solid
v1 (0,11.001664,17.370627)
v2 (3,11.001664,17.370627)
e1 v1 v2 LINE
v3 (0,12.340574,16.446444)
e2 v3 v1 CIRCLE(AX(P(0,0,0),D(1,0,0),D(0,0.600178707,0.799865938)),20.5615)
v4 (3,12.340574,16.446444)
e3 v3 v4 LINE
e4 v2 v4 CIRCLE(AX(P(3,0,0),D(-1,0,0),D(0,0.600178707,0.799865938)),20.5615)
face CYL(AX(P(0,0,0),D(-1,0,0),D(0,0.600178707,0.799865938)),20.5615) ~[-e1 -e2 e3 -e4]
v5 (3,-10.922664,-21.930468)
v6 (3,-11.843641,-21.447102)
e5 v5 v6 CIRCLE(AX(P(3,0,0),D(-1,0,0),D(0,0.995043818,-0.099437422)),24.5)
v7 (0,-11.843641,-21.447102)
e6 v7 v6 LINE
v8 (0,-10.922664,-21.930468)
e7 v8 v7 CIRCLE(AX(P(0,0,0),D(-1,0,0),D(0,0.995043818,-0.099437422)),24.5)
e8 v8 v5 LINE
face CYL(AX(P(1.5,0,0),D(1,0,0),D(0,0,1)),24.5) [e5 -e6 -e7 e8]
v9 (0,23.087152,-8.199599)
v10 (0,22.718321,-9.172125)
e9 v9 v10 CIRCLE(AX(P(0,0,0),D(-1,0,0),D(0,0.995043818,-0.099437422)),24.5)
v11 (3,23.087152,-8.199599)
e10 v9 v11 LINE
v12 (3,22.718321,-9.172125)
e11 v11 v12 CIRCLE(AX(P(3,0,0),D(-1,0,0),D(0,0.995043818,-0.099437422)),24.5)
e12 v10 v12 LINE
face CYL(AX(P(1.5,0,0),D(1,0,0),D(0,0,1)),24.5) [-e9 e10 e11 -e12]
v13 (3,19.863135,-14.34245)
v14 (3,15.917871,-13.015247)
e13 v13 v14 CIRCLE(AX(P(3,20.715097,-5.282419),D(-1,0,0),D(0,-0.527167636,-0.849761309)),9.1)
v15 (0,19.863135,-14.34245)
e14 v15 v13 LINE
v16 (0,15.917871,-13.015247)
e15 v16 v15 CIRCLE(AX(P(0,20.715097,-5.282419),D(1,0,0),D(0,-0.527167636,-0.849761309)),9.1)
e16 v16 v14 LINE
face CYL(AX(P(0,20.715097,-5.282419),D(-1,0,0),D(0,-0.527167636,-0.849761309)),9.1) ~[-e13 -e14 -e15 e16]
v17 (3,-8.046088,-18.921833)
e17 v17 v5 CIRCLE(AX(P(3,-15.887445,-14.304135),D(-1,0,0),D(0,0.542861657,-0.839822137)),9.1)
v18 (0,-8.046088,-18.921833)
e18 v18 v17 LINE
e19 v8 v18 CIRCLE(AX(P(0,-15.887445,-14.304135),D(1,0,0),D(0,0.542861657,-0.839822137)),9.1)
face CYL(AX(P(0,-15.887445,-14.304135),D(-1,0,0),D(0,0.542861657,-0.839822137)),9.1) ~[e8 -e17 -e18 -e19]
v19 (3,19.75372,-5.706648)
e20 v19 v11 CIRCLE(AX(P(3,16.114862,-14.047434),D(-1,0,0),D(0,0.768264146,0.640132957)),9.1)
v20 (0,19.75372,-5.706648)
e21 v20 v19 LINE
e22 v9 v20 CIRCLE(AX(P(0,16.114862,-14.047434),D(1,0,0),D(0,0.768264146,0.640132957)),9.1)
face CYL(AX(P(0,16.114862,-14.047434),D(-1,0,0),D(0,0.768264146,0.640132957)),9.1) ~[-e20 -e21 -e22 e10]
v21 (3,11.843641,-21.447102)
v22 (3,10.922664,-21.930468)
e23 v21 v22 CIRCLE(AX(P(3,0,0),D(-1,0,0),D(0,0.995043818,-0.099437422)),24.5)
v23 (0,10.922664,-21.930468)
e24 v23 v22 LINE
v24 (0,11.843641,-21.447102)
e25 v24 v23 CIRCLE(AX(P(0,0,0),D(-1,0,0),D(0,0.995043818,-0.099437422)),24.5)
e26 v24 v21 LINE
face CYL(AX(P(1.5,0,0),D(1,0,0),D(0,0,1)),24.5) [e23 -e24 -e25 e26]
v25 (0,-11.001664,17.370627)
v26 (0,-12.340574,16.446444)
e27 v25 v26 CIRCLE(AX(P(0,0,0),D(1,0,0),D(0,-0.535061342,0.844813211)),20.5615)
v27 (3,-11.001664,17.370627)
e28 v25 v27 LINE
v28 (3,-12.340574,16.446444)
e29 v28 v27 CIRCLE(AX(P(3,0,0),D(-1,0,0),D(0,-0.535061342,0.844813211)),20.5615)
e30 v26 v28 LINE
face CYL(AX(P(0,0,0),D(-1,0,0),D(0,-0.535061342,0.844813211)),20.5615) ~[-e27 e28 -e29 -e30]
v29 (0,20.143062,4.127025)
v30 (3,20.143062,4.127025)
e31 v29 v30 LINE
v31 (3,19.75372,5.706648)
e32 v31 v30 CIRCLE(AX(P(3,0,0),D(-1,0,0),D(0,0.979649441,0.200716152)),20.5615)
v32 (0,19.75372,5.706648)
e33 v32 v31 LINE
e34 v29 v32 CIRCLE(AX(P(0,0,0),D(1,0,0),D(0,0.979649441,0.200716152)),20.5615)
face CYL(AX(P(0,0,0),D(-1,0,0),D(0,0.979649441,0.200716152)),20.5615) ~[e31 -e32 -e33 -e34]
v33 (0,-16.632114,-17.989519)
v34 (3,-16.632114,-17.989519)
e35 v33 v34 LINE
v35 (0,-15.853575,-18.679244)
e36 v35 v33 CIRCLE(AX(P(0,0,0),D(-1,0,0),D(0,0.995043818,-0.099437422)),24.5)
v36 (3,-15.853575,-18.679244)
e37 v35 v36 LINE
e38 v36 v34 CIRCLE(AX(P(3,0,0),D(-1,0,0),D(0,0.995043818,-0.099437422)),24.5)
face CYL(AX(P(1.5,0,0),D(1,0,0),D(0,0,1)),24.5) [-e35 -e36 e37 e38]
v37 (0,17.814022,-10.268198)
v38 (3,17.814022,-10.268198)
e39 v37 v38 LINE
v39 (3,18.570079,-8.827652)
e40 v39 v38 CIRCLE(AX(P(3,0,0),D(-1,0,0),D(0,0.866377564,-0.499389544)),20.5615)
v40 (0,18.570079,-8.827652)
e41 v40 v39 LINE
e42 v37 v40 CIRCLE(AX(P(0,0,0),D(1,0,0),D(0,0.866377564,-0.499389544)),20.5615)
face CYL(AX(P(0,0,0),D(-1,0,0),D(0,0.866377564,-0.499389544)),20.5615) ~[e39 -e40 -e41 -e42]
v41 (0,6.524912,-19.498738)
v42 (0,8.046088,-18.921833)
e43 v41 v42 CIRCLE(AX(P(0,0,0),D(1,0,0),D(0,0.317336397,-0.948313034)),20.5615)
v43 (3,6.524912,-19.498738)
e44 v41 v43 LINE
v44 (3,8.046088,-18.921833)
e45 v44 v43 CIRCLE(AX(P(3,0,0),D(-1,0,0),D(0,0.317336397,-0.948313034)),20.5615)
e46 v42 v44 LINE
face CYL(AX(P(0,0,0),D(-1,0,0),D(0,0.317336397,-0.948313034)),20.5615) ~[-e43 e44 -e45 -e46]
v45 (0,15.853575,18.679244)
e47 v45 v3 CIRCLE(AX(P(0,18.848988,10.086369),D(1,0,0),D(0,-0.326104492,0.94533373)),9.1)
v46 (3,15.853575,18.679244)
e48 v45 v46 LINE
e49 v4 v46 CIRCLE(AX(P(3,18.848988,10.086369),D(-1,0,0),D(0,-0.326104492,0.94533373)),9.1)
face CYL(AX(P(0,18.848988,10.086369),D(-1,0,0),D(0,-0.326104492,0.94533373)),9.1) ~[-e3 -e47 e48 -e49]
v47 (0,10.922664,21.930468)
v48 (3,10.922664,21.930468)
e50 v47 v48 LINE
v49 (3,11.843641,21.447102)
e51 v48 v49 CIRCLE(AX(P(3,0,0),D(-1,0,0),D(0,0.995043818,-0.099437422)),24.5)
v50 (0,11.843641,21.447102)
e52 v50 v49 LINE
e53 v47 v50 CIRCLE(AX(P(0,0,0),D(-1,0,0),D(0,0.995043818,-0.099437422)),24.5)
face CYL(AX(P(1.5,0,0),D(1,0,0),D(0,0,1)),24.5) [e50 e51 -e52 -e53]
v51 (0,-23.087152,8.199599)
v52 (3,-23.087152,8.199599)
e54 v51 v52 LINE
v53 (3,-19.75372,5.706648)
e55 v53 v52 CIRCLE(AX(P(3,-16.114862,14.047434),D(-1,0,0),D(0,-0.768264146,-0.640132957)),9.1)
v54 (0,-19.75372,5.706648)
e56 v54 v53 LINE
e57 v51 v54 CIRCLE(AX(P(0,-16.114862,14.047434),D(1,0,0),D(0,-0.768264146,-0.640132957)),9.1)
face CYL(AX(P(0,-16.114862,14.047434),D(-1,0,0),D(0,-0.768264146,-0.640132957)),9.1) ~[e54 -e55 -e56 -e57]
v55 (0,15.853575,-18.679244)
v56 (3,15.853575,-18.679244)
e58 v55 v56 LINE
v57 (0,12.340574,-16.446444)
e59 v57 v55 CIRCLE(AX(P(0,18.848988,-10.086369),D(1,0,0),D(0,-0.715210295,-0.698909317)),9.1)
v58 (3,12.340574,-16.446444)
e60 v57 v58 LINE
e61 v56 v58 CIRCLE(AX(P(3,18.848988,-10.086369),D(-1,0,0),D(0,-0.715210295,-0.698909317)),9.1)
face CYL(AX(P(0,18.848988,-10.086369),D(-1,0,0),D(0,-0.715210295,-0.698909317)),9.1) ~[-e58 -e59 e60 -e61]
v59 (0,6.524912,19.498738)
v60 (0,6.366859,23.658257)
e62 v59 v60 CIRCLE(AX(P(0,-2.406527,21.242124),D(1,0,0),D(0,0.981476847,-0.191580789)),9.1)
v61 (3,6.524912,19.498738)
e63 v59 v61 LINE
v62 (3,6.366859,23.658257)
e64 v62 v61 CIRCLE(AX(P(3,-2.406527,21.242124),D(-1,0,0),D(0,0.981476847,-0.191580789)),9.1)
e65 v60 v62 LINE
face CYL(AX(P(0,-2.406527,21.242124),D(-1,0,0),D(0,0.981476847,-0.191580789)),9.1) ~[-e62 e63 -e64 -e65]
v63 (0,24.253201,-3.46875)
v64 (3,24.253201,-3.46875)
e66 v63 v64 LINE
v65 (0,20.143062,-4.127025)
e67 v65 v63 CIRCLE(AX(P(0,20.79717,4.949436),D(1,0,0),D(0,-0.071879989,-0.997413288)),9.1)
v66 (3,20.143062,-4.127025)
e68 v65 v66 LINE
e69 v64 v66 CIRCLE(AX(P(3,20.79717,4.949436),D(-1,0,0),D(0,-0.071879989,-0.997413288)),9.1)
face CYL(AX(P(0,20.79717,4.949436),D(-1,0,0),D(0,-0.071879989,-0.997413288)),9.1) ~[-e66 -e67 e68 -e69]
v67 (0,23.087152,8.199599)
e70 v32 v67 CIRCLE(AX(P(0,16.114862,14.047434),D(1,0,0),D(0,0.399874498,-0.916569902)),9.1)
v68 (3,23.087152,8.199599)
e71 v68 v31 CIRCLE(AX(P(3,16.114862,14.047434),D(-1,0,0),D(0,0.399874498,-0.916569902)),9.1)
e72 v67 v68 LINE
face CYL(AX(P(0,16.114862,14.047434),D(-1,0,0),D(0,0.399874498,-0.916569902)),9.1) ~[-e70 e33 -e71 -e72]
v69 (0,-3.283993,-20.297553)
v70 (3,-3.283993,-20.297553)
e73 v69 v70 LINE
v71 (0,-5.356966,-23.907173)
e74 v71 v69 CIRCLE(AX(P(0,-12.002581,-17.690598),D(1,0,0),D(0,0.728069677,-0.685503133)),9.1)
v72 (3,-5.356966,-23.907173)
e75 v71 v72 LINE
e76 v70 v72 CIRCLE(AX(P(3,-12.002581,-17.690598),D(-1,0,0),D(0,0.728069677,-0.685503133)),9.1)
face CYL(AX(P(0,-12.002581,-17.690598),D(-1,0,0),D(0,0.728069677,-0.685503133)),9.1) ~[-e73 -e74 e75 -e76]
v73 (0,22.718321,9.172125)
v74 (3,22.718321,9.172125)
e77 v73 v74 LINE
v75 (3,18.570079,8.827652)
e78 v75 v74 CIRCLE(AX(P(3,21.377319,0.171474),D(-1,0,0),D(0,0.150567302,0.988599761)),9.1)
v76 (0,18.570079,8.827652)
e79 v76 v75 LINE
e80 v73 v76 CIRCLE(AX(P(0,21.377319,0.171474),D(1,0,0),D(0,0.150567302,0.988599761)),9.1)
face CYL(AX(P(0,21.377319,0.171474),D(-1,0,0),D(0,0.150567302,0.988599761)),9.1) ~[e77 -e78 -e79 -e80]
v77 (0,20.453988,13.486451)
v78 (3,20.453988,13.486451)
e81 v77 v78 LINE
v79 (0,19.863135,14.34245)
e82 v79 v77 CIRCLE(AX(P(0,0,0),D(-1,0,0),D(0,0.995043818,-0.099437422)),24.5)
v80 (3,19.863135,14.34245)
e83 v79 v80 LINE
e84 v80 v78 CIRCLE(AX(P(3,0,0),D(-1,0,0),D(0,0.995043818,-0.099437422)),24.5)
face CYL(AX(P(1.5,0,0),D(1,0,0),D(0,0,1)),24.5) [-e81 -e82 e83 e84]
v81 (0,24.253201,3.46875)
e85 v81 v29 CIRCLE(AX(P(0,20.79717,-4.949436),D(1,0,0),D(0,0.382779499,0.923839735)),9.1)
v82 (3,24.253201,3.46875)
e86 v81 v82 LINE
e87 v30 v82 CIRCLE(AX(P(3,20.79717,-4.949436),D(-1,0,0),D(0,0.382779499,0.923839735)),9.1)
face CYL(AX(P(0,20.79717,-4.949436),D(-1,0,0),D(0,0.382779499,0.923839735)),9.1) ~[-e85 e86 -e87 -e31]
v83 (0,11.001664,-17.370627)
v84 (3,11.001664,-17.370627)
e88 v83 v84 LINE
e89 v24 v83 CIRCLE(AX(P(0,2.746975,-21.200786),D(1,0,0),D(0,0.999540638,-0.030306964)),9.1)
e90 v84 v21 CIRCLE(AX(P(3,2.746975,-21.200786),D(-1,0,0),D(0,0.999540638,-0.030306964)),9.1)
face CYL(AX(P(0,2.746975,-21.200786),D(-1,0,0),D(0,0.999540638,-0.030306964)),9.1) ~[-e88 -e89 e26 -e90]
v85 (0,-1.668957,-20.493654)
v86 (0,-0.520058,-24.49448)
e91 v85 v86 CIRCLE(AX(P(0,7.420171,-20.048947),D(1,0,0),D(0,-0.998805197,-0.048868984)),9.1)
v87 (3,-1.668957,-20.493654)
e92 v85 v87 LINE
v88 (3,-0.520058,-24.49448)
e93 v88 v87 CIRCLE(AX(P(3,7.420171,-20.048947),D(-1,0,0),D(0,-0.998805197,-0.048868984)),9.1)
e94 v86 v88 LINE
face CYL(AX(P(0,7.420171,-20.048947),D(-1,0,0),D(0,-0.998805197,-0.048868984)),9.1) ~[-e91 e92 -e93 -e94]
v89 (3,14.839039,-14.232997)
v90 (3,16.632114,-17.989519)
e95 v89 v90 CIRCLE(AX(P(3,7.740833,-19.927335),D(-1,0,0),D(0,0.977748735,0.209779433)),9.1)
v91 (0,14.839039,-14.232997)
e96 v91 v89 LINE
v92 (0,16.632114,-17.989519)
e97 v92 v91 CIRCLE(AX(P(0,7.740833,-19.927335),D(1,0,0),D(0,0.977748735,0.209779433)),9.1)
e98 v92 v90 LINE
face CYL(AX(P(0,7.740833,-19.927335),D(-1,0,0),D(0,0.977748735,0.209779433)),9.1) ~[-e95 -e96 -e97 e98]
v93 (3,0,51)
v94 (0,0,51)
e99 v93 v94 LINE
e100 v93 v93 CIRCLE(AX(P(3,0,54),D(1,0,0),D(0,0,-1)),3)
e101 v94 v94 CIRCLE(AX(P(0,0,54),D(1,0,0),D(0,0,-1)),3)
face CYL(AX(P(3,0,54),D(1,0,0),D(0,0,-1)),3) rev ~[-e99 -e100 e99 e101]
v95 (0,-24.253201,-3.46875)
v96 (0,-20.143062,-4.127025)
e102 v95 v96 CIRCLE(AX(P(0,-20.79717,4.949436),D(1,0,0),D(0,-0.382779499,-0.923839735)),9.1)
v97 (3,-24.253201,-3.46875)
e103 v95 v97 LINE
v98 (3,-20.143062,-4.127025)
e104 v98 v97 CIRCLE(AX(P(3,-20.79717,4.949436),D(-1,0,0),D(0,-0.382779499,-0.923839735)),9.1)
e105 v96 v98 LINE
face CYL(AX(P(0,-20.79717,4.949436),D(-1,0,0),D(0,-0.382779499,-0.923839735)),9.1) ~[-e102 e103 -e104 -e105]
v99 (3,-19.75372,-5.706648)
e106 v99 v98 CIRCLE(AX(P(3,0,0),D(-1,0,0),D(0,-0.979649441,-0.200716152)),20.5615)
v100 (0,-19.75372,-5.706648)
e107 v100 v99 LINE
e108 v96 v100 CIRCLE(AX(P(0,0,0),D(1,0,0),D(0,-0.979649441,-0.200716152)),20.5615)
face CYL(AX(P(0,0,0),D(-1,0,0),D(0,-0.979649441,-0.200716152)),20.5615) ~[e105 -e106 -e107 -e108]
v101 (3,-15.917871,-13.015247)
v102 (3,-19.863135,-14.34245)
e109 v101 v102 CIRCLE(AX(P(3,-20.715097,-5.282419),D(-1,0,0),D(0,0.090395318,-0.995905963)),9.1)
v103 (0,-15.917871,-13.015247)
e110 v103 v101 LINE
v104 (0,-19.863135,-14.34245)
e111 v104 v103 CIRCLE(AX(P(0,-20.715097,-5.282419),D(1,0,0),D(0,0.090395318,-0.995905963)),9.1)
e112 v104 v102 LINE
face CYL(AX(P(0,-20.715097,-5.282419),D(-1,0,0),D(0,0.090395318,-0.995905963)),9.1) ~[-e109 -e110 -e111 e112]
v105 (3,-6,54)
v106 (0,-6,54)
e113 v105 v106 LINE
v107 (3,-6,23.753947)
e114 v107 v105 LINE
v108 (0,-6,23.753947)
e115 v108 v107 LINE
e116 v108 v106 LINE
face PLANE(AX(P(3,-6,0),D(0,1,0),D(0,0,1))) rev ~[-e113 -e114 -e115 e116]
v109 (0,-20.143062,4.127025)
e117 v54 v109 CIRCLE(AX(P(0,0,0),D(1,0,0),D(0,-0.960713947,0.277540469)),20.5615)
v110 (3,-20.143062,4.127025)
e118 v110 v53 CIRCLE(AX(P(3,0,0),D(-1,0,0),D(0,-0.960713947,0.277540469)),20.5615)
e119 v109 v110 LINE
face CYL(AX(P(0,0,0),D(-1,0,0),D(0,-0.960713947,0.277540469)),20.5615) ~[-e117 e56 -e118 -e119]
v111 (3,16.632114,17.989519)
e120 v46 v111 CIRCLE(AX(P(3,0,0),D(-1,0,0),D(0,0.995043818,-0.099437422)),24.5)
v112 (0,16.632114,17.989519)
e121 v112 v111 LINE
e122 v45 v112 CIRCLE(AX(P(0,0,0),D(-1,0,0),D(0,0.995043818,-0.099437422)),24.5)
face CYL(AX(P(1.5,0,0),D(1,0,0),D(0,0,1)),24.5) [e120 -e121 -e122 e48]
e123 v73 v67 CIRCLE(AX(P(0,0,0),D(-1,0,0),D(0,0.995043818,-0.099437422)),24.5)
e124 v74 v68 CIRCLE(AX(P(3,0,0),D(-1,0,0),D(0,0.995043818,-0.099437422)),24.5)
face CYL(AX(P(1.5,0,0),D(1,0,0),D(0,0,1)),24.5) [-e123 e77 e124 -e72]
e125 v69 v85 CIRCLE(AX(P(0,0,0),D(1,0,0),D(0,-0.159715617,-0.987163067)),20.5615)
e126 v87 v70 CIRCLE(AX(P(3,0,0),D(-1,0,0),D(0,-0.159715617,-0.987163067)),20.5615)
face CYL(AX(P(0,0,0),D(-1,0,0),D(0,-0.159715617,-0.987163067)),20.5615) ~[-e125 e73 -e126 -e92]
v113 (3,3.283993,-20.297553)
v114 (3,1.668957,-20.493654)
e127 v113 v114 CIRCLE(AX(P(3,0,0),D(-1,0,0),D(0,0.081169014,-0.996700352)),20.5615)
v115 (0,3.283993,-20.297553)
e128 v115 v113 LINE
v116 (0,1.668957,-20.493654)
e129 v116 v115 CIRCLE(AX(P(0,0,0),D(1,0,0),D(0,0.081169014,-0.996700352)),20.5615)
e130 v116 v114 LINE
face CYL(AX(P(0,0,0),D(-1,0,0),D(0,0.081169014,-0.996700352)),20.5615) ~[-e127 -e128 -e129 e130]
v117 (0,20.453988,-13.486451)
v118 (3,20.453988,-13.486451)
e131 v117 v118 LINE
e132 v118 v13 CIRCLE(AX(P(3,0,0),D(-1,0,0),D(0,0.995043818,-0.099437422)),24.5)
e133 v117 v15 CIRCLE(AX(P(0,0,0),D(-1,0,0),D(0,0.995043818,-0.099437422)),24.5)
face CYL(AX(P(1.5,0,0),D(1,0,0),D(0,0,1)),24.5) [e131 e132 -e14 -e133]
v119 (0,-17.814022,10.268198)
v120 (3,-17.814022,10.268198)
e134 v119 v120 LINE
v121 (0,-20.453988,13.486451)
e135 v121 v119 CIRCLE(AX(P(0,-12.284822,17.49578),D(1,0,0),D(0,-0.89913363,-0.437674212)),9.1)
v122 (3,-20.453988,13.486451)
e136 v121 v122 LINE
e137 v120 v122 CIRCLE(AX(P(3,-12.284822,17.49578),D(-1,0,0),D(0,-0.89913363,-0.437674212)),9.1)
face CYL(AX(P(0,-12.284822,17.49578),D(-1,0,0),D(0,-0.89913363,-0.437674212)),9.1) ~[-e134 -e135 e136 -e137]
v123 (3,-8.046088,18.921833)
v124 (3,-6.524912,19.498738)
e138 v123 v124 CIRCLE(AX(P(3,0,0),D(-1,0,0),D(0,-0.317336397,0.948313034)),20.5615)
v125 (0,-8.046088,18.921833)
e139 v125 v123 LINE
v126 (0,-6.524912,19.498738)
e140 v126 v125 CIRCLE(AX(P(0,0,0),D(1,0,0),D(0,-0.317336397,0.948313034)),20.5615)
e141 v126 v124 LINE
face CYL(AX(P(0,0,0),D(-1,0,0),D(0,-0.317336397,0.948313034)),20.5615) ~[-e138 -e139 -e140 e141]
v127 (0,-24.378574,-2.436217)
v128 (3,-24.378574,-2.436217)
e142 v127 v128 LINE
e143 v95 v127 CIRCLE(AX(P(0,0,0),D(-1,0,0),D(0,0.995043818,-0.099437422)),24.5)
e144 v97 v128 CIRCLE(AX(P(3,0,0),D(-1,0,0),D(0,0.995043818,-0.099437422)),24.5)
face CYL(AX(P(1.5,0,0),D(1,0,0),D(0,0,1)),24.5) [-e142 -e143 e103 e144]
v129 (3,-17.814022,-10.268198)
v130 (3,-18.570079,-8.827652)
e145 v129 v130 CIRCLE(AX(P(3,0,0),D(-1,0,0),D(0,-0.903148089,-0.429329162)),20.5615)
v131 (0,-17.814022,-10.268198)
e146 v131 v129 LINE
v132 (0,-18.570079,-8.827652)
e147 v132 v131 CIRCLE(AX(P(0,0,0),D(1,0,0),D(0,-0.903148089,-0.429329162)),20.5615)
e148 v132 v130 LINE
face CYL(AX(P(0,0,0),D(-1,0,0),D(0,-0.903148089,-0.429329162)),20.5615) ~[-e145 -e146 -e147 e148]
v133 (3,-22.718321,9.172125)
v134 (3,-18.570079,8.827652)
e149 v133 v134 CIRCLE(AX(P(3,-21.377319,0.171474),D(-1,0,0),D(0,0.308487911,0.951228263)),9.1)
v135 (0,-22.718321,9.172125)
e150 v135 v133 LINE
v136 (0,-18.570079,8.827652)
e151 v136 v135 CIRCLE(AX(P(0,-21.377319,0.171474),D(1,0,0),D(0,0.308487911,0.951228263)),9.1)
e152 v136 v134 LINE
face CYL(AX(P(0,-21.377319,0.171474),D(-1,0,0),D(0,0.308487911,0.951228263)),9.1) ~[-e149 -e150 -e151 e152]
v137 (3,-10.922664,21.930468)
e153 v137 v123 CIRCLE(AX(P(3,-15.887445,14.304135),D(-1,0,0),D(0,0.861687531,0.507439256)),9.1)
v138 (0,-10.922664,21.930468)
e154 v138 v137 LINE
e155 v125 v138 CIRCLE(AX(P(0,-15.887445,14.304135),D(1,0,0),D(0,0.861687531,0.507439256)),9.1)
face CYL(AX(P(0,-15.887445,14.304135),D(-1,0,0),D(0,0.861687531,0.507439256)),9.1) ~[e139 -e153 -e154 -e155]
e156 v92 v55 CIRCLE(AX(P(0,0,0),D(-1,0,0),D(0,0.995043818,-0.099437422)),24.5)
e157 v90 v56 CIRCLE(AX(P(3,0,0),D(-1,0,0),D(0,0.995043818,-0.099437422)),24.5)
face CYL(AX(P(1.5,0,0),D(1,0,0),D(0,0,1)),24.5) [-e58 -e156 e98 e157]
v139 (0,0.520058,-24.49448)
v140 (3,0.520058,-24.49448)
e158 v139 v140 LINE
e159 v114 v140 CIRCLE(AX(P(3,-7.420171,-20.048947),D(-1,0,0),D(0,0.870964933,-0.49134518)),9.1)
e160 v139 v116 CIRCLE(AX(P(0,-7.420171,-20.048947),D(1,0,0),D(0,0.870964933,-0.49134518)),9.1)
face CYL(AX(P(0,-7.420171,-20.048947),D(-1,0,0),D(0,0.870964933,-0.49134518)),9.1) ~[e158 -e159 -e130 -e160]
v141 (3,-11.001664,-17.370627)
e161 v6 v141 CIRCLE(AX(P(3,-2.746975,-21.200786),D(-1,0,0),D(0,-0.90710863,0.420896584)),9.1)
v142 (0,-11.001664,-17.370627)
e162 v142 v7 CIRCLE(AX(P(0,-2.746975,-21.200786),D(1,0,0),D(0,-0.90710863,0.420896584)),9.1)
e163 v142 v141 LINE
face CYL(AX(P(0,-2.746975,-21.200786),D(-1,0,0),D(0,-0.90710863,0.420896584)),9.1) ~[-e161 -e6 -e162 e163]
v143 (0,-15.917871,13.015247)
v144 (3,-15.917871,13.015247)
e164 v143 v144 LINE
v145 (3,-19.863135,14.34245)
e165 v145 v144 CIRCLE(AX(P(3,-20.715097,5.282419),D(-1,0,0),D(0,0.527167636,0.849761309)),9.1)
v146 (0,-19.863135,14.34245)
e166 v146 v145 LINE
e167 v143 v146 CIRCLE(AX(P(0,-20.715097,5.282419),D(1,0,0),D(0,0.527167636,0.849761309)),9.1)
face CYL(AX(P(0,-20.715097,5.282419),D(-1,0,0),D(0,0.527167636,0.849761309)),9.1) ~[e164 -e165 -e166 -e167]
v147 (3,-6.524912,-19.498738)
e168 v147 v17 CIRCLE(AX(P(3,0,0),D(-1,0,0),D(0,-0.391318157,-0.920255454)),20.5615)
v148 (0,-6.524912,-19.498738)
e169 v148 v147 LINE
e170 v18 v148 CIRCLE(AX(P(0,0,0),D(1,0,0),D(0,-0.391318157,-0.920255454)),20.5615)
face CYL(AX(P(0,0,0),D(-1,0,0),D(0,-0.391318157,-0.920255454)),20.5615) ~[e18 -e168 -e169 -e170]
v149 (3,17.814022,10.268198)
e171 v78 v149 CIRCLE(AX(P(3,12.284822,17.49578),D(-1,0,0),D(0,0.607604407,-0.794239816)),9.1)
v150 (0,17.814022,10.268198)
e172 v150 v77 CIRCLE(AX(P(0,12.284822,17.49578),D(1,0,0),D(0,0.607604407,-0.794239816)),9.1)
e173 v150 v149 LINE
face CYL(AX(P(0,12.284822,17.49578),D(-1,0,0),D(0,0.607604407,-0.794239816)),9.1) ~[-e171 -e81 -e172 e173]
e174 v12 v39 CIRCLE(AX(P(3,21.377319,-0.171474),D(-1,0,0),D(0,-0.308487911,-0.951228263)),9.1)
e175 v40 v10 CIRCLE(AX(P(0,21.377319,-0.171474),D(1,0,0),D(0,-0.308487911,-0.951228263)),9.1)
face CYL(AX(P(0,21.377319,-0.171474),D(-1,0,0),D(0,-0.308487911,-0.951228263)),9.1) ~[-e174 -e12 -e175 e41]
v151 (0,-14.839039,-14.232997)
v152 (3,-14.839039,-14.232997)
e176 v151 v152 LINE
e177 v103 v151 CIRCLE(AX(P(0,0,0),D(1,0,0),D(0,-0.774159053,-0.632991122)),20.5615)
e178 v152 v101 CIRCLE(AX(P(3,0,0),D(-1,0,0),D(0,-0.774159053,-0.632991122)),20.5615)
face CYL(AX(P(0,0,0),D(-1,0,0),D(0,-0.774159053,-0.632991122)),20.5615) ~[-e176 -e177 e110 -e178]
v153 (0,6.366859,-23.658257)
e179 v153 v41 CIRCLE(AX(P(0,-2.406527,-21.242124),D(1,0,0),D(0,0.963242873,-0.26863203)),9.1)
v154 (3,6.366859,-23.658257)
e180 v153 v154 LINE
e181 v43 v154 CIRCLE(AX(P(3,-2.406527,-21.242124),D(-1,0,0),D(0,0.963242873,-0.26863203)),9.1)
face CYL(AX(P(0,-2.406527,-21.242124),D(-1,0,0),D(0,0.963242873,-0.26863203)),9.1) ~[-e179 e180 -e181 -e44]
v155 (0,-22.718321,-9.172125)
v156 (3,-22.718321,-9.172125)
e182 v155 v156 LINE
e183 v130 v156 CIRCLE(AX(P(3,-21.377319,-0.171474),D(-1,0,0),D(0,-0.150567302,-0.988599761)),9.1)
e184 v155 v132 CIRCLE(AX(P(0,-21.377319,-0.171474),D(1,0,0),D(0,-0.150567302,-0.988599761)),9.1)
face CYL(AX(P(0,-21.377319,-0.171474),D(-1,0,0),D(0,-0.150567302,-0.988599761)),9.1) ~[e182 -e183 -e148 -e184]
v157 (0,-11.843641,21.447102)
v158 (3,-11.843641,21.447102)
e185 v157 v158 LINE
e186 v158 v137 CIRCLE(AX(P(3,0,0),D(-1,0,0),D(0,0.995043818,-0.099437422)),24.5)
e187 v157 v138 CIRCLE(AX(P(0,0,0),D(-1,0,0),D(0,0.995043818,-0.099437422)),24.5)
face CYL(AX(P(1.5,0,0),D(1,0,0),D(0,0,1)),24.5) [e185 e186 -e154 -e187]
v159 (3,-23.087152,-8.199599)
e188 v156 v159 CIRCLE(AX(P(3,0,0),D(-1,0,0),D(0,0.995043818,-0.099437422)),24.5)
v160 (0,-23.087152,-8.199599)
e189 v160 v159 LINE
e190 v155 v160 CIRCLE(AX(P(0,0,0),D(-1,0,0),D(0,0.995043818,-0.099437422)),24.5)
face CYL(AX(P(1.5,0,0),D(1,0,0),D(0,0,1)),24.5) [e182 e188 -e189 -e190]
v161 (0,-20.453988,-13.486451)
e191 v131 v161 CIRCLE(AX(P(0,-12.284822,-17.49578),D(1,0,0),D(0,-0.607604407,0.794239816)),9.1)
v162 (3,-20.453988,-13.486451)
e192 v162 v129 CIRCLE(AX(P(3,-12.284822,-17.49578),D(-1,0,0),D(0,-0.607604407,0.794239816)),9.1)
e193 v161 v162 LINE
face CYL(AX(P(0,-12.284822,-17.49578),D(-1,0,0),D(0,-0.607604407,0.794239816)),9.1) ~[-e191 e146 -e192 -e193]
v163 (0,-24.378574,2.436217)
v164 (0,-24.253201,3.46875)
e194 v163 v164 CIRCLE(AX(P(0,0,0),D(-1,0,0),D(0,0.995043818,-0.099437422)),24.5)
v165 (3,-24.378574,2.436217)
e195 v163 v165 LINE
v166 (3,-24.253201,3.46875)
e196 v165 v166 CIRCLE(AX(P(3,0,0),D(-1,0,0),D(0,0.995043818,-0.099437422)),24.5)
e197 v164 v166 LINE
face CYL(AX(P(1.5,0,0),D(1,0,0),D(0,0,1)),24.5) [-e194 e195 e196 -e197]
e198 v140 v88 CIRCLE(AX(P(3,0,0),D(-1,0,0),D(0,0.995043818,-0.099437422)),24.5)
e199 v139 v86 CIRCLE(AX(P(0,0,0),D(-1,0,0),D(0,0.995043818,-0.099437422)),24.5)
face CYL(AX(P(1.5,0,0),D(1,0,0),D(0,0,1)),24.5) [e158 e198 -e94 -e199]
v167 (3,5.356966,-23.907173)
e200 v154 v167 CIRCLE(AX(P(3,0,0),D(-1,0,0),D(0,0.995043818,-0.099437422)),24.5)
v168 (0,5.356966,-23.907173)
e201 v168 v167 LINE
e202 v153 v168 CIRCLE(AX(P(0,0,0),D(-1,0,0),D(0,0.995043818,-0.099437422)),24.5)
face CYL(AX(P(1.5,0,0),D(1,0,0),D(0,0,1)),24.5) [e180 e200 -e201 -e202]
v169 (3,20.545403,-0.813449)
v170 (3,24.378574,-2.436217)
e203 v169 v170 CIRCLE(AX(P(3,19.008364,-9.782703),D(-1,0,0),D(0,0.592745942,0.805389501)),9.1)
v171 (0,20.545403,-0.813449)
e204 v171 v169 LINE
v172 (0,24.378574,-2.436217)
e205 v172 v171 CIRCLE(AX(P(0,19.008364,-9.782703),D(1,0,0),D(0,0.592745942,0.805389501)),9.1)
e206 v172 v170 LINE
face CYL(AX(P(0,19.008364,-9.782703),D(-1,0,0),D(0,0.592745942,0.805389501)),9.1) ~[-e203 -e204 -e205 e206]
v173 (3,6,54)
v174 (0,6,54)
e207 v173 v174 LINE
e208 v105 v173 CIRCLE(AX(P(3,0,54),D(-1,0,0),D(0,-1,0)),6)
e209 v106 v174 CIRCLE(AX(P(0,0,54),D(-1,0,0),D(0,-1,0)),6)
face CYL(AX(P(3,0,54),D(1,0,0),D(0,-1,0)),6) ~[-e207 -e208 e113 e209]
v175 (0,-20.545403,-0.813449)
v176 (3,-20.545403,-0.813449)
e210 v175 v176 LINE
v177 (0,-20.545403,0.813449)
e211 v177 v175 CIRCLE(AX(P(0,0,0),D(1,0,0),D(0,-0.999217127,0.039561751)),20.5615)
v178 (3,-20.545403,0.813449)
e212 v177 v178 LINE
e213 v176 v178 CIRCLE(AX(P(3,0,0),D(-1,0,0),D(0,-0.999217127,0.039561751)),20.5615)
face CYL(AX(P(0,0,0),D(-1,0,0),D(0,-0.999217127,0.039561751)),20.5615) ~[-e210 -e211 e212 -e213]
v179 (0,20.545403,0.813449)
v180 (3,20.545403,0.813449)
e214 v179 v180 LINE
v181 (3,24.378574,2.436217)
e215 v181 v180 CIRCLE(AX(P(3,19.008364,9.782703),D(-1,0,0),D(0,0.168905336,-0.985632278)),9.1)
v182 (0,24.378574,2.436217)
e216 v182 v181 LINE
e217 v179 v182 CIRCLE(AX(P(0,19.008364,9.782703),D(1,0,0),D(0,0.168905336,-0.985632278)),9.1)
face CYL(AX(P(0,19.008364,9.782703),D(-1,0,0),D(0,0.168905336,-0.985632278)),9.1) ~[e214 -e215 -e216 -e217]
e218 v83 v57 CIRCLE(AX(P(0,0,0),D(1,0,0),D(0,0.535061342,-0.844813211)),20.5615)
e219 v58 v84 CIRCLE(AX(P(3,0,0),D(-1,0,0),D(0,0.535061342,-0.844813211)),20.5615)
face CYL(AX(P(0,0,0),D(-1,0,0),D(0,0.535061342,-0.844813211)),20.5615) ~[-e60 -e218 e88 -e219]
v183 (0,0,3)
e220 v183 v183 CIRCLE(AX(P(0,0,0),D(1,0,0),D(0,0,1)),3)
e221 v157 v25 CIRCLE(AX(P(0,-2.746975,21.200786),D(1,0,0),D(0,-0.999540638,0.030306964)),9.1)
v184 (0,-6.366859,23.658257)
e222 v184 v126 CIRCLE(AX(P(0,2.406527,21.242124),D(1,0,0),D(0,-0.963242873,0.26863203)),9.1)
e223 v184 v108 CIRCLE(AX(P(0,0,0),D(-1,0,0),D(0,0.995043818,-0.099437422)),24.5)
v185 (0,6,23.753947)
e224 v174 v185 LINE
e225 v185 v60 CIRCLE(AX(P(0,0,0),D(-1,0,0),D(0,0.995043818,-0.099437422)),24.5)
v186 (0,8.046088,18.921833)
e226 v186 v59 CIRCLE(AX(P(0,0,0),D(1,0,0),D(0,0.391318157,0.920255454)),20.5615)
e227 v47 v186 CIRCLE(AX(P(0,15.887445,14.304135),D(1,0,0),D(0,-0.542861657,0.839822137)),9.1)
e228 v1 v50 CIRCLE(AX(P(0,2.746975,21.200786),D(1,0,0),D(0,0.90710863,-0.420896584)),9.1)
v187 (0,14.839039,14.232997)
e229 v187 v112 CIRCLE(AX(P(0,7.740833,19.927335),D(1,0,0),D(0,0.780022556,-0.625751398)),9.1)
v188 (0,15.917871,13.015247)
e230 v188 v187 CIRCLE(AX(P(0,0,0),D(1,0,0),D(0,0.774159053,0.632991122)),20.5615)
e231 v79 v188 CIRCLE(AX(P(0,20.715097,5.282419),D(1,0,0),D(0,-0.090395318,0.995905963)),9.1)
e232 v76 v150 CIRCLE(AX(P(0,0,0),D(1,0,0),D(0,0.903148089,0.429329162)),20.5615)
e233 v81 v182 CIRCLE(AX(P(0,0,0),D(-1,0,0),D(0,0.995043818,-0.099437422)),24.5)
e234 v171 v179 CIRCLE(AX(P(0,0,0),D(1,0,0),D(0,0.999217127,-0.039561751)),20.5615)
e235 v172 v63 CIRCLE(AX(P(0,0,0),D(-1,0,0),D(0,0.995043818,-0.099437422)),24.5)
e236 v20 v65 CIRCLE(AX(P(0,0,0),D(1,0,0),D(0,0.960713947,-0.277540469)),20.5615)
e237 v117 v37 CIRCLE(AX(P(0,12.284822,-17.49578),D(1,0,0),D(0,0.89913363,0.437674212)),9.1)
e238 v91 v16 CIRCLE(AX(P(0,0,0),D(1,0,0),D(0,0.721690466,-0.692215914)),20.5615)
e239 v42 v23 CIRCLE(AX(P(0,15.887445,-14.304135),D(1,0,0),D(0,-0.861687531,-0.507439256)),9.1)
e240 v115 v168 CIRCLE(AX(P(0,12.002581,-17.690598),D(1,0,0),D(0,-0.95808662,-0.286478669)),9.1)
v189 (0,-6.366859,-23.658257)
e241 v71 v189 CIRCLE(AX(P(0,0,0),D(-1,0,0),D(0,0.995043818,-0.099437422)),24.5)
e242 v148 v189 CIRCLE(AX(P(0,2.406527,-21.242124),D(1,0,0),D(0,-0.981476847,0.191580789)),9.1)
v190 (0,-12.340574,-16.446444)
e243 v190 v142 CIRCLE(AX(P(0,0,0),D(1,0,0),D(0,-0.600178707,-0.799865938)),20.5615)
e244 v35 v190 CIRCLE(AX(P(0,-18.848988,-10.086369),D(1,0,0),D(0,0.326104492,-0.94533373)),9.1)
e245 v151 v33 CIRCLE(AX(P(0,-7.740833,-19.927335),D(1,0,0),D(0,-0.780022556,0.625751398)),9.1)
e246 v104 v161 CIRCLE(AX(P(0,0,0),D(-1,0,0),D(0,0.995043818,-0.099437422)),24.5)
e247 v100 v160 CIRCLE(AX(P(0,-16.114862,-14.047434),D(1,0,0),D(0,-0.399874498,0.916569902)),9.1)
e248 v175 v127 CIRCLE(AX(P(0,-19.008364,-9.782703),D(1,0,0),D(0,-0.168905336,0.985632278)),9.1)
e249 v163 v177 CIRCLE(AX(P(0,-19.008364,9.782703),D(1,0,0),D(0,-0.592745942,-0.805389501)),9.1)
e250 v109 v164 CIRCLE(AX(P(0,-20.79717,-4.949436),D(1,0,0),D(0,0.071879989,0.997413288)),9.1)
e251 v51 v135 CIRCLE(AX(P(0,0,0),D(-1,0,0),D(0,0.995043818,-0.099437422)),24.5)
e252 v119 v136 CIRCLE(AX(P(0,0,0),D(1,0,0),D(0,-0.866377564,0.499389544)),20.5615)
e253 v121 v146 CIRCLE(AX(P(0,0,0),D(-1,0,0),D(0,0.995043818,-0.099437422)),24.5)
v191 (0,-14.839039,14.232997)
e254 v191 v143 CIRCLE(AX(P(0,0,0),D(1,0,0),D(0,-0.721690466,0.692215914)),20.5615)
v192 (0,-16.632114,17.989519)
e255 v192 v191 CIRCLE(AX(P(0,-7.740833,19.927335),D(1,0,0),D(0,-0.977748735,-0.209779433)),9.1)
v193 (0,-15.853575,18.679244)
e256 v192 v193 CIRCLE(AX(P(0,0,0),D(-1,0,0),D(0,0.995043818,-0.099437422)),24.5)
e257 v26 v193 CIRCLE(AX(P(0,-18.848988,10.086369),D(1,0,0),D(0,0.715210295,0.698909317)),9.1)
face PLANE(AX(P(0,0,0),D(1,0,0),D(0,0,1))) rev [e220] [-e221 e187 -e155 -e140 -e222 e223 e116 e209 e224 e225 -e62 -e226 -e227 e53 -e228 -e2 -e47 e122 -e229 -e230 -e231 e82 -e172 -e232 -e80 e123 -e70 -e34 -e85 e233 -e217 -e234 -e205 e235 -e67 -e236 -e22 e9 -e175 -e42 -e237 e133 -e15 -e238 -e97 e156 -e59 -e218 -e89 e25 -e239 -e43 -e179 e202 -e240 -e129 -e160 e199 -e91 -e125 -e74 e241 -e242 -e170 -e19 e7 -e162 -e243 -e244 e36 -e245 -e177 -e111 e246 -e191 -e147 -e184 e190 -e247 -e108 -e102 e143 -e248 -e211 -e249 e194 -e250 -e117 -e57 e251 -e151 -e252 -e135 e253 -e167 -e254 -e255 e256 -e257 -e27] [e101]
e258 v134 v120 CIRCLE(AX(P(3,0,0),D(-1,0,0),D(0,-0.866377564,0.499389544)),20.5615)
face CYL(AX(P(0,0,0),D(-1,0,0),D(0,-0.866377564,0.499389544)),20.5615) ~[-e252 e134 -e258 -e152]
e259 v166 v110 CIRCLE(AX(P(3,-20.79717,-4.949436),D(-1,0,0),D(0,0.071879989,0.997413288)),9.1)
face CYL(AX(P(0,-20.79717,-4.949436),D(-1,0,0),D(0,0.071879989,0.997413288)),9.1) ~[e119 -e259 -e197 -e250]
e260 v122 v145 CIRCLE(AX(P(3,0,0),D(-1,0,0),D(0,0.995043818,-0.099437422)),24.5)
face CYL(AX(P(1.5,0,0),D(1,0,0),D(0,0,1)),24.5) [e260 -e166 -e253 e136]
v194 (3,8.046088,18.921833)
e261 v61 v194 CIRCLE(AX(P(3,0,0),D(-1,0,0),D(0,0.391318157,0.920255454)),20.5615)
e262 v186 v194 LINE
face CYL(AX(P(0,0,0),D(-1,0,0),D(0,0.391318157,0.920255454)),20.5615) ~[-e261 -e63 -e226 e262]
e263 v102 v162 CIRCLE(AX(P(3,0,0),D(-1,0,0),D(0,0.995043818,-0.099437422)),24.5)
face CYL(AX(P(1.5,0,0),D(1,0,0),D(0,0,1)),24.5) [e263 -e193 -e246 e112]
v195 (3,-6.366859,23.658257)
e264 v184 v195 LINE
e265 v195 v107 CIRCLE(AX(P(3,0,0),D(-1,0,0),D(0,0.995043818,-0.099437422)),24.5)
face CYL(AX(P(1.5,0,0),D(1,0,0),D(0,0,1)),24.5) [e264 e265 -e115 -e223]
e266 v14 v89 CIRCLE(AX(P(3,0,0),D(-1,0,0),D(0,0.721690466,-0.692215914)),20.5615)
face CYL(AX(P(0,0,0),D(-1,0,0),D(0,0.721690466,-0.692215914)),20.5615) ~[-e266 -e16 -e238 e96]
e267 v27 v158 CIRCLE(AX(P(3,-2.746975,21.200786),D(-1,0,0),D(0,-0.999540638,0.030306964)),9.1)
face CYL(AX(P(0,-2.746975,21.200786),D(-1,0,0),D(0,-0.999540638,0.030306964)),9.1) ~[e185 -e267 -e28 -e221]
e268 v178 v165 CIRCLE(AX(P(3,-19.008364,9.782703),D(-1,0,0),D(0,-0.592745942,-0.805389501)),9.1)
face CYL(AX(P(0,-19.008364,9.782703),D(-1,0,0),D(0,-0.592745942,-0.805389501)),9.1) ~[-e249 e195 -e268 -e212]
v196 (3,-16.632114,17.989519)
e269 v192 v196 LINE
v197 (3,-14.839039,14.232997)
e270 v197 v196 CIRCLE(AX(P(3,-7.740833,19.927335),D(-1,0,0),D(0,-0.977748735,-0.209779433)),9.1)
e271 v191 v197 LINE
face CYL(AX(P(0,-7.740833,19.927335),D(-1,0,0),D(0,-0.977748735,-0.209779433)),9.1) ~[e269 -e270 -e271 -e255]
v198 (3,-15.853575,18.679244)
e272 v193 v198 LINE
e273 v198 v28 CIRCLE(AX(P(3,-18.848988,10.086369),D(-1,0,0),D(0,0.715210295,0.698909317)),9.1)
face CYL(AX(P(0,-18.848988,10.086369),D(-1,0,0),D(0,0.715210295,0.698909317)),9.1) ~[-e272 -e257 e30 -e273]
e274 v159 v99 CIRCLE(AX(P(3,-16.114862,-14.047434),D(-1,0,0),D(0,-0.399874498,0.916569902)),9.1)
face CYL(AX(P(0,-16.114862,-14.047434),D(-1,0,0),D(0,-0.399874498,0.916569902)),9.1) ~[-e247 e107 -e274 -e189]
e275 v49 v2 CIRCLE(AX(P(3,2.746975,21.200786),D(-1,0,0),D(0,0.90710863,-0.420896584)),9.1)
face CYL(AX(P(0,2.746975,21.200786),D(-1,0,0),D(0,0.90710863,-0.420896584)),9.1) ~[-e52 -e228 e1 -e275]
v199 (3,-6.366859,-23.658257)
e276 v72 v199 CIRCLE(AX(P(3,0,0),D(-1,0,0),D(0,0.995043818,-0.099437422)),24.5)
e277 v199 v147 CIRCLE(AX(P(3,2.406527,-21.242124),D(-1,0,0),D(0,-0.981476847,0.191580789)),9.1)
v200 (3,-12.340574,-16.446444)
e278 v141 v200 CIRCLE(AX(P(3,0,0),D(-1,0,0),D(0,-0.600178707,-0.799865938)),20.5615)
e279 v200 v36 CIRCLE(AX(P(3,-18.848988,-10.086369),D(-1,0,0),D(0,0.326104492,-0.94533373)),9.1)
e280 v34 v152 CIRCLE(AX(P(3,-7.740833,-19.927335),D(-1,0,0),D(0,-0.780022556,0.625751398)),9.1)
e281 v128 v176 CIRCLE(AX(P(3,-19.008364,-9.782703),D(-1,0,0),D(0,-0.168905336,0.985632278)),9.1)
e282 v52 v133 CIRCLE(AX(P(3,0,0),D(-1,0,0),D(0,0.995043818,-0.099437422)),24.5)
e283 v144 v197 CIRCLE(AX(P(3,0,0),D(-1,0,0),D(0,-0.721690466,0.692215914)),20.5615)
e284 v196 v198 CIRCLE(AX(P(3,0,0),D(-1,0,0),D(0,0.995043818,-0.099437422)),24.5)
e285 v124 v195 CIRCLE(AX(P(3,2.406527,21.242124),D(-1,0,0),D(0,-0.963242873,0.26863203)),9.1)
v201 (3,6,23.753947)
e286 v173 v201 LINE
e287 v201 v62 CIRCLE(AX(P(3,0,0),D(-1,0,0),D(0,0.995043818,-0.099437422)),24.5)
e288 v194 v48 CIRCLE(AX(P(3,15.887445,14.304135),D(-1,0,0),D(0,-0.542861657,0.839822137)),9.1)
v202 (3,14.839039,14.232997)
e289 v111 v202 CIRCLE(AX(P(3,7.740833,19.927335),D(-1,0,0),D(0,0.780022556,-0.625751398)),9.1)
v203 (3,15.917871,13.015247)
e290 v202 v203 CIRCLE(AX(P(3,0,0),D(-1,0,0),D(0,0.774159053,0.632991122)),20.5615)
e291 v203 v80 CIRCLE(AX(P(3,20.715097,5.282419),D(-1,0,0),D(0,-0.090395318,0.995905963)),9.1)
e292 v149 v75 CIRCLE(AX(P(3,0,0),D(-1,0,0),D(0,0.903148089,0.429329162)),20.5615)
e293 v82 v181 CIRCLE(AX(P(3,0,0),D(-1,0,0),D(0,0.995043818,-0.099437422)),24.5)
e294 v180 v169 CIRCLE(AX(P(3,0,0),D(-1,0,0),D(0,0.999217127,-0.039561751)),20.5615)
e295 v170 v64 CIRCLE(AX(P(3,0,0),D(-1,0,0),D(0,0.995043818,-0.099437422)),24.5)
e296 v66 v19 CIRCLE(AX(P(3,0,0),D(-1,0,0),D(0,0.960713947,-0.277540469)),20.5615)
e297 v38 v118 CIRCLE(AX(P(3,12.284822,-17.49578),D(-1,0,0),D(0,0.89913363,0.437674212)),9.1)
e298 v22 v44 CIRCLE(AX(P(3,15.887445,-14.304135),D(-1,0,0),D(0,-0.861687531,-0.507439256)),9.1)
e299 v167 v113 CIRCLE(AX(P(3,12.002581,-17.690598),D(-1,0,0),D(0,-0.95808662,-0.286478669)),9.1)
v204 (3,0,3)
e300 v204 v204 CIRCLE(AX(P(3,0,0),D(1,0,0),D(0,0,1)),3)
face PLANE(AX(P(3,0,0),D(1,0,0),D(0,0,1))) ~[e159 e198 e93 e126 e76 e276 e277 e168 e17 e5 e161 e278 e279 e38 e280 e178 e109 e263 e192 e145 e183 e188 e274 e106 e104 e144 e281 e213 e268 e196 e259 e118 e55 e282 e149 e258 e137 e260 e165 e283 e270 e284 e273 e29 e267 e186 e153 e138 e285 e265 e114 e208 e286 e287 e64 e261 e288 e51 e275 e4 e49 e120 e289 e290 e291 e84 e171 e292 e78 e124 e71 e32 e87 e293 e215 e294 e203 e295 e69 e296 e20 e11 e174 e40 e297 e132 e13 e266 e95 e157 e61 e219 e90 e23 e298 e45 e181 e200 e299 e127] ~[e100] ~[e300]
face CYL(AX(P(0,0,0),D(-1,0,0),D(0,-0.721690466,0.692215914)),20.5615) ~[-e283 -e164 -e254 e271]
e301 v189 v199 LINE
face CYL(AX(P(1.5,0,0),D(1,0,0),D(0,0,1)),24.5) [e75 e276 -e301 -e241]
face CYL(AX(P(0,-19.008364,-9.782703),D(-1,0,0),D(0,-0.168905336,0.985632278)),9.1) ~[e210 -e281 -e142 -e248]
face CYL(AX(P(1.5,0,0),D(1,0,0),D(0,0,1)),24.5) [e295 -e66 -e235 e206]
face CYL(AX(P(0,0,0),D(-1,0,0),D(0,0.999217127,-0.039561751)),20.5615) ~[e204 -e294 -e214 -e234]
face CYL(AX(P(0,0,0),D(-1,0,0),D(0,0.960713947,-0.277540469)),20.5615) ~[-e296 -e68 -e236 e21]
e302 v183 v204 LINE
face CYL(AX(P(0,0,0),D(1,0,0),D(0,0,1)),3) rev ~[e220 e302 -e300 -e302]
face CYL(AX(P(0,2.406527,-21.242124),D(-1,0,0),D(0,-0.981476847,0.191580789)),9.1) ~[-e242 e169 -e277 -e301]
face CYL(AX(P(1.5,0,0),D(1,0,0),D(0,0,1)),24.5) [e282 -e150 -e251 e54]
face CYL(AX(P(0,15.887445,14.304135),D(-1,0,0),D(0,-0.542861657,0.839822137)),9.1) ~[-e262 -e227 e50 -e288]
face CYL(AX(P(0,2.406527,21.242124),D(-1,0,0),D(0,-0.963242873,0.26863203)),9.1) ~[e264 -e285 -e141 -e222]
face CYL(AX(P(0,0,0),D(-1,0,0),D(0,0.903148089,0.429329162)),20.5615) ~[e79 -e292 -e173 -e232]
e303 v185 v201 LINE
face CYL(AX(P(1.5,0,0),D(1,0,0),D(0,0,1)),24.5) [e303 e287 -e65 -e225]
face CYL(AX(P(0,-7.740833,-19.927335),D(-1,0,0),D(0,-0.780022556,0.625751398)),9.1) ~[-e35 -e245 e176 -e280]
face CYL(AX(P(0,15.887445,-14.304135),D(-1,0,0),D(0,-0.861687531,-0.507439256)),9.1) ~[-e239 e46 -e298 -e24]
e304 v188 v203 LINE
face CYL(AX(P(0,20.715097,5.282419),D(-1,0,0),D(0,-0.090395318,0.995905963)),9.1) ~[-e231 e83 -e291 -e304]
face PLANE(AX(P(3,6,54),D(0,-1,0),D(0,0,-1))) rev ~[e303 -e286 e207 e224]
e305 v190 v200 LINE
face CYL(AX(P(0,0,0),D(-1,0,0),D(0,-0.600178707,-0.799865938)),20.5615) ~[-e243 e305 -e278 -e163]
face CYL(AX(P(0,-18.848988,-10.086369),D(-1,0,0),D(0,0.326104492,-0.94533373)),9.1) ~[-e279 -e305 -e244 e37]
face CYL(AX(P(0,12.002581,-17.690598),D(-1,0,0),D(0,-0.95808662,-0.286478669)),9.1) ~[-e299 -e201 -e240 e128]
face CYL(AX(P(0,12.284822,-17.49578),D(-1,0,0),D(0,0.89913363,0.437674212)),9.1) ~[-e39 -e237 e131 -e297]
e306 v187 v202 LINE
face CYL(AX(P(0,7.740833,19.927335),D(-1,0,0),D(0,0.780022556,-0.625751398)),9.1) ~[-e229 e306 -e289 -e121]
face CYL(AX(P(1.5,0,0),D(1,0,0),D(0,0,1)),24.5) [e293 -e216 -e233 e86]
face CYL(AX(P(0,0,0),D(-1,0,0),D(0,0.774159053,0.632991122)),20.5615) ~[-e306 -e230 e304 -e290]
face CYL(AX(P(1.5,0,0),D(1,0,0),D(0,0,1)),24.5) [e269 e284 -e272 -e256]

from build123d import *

# Parameters (mm, degrees)
BASPROSKE_W         = 3
BASPROSKE_H         = 24.5
TOOTHCUT_DEPTH      = 35.777866525
TEETHCUTS_COUNT     = 26
TEETHCUTS_ANGLE     = 346.153846154
BORSKE_R            = 3
BORE_DEPTH          = 50.0000508
BOSS_EXTRUDE1_START = 3
SKETCH2_R           = 3
BOSS_EXTRUDE1_DEPTH = 3


with BuildPart() as part:
    # BasProSke → Base-Revolve (revolve)
    with BuildSketch(Plane(origin=(0, 0, 0), x_dir=(1, 0, 0), z_dir=(0, 1, 0)), mode=Mode.PRIVATE) as base_revolve_sk:
        with Locations((1.5, 12.25)):
            Rectangle(BASPROSKE_W, BASPROSKE_H)
    revolve(base_revolve_sk.sketch.rotate(Axis((-10, 0, 0), (1, 0, 0)), 180), axis=Axis((-10, 0, 0), (1, 0, 0)))

    # TooCutSke → ToothCut (cut, through all)
    with BuildSketch(Plane(origin=(0, 0, 0), x_dir=(0, 0, -1), z_dir=(1, 0, 0))):
        with BuildLine():
            ThreePointArc((0.813448928, 20.545402967), (0, 20.5615), (-0.813448928, 20.545402967))
            ThreePointArc((-0.813448928, 20.545402967), (-1.408477569, 22.569593712), (-2.4536582, 24.402352481))
            ThreePointArc((-2.4536582, 24.402352481), (0, 24.5254), (2.4536582, 24.402352481))
            ThreePointArc((2.4536582, 24.402352481), (1.408477569, 22.569593712), (0.813448928, 20.545402967))
        make_face()
    toothcut = extrude(amount=TOOTHCUT_DEPTH, mode=Mode.SUBTRACT)

    # TeethCuts: ToothCut ×26 about axis
    teethcuts_axis = Axis((-10, 0, 0), (1, 0, 0))
    for i in range(1, TEETHCUTS_COUNT):
        add(toothcut.rotate(teethcuts_axis, i * TEETHCUTS_ANGLE / (TEETHCUTS_COUNT - 1)), mode=Mode.SUBTRACT)

    # BorSke → Bore (cut, symmetric)
    with BuildSketch(Plane(origin=(0, 0, 0), x_dir=(0, 0, -1), z_dir=(1, 0, 0))):
        with Locations(Location((0, 0, 0), (0, 0, 180))):
            Circle(BORSKE_R)
    extrude(amount=BORE_DEPTH, both=True, mode=Mode.SUBTRACT)

    # Sketch2 → Boss-Extrude1 (add)
    with BuildSketch(Plane(origin=(0, 0, 0), x_dir=(0, 0, -1), z_dir=(1, 0, 0)).offset(BOSS_EXTRUDE1_START)):
        with BuildLine():
            Line((0, -6), (-54, -6))
            ThreePointArc((-54, -6), (-60, 0), (-54, 6))
            Line((-54, 6), (0, 6))
            ThreePointArc((0, 6), (6, 0), (0, -6))
        make_face()
        with Locations((-54, 0)):
            Circle(SKETCH2_R, mode=Mode.SUBTRACT)
        with Locations(Location((0, 0, 0), (0, 0, 180))):
            Circle(SKETCH2_R, mode=Mode.SUBTRACT)
    extrude(amount=-BOSS_EXTRUDE1_DEPTH)


solid = part.part
